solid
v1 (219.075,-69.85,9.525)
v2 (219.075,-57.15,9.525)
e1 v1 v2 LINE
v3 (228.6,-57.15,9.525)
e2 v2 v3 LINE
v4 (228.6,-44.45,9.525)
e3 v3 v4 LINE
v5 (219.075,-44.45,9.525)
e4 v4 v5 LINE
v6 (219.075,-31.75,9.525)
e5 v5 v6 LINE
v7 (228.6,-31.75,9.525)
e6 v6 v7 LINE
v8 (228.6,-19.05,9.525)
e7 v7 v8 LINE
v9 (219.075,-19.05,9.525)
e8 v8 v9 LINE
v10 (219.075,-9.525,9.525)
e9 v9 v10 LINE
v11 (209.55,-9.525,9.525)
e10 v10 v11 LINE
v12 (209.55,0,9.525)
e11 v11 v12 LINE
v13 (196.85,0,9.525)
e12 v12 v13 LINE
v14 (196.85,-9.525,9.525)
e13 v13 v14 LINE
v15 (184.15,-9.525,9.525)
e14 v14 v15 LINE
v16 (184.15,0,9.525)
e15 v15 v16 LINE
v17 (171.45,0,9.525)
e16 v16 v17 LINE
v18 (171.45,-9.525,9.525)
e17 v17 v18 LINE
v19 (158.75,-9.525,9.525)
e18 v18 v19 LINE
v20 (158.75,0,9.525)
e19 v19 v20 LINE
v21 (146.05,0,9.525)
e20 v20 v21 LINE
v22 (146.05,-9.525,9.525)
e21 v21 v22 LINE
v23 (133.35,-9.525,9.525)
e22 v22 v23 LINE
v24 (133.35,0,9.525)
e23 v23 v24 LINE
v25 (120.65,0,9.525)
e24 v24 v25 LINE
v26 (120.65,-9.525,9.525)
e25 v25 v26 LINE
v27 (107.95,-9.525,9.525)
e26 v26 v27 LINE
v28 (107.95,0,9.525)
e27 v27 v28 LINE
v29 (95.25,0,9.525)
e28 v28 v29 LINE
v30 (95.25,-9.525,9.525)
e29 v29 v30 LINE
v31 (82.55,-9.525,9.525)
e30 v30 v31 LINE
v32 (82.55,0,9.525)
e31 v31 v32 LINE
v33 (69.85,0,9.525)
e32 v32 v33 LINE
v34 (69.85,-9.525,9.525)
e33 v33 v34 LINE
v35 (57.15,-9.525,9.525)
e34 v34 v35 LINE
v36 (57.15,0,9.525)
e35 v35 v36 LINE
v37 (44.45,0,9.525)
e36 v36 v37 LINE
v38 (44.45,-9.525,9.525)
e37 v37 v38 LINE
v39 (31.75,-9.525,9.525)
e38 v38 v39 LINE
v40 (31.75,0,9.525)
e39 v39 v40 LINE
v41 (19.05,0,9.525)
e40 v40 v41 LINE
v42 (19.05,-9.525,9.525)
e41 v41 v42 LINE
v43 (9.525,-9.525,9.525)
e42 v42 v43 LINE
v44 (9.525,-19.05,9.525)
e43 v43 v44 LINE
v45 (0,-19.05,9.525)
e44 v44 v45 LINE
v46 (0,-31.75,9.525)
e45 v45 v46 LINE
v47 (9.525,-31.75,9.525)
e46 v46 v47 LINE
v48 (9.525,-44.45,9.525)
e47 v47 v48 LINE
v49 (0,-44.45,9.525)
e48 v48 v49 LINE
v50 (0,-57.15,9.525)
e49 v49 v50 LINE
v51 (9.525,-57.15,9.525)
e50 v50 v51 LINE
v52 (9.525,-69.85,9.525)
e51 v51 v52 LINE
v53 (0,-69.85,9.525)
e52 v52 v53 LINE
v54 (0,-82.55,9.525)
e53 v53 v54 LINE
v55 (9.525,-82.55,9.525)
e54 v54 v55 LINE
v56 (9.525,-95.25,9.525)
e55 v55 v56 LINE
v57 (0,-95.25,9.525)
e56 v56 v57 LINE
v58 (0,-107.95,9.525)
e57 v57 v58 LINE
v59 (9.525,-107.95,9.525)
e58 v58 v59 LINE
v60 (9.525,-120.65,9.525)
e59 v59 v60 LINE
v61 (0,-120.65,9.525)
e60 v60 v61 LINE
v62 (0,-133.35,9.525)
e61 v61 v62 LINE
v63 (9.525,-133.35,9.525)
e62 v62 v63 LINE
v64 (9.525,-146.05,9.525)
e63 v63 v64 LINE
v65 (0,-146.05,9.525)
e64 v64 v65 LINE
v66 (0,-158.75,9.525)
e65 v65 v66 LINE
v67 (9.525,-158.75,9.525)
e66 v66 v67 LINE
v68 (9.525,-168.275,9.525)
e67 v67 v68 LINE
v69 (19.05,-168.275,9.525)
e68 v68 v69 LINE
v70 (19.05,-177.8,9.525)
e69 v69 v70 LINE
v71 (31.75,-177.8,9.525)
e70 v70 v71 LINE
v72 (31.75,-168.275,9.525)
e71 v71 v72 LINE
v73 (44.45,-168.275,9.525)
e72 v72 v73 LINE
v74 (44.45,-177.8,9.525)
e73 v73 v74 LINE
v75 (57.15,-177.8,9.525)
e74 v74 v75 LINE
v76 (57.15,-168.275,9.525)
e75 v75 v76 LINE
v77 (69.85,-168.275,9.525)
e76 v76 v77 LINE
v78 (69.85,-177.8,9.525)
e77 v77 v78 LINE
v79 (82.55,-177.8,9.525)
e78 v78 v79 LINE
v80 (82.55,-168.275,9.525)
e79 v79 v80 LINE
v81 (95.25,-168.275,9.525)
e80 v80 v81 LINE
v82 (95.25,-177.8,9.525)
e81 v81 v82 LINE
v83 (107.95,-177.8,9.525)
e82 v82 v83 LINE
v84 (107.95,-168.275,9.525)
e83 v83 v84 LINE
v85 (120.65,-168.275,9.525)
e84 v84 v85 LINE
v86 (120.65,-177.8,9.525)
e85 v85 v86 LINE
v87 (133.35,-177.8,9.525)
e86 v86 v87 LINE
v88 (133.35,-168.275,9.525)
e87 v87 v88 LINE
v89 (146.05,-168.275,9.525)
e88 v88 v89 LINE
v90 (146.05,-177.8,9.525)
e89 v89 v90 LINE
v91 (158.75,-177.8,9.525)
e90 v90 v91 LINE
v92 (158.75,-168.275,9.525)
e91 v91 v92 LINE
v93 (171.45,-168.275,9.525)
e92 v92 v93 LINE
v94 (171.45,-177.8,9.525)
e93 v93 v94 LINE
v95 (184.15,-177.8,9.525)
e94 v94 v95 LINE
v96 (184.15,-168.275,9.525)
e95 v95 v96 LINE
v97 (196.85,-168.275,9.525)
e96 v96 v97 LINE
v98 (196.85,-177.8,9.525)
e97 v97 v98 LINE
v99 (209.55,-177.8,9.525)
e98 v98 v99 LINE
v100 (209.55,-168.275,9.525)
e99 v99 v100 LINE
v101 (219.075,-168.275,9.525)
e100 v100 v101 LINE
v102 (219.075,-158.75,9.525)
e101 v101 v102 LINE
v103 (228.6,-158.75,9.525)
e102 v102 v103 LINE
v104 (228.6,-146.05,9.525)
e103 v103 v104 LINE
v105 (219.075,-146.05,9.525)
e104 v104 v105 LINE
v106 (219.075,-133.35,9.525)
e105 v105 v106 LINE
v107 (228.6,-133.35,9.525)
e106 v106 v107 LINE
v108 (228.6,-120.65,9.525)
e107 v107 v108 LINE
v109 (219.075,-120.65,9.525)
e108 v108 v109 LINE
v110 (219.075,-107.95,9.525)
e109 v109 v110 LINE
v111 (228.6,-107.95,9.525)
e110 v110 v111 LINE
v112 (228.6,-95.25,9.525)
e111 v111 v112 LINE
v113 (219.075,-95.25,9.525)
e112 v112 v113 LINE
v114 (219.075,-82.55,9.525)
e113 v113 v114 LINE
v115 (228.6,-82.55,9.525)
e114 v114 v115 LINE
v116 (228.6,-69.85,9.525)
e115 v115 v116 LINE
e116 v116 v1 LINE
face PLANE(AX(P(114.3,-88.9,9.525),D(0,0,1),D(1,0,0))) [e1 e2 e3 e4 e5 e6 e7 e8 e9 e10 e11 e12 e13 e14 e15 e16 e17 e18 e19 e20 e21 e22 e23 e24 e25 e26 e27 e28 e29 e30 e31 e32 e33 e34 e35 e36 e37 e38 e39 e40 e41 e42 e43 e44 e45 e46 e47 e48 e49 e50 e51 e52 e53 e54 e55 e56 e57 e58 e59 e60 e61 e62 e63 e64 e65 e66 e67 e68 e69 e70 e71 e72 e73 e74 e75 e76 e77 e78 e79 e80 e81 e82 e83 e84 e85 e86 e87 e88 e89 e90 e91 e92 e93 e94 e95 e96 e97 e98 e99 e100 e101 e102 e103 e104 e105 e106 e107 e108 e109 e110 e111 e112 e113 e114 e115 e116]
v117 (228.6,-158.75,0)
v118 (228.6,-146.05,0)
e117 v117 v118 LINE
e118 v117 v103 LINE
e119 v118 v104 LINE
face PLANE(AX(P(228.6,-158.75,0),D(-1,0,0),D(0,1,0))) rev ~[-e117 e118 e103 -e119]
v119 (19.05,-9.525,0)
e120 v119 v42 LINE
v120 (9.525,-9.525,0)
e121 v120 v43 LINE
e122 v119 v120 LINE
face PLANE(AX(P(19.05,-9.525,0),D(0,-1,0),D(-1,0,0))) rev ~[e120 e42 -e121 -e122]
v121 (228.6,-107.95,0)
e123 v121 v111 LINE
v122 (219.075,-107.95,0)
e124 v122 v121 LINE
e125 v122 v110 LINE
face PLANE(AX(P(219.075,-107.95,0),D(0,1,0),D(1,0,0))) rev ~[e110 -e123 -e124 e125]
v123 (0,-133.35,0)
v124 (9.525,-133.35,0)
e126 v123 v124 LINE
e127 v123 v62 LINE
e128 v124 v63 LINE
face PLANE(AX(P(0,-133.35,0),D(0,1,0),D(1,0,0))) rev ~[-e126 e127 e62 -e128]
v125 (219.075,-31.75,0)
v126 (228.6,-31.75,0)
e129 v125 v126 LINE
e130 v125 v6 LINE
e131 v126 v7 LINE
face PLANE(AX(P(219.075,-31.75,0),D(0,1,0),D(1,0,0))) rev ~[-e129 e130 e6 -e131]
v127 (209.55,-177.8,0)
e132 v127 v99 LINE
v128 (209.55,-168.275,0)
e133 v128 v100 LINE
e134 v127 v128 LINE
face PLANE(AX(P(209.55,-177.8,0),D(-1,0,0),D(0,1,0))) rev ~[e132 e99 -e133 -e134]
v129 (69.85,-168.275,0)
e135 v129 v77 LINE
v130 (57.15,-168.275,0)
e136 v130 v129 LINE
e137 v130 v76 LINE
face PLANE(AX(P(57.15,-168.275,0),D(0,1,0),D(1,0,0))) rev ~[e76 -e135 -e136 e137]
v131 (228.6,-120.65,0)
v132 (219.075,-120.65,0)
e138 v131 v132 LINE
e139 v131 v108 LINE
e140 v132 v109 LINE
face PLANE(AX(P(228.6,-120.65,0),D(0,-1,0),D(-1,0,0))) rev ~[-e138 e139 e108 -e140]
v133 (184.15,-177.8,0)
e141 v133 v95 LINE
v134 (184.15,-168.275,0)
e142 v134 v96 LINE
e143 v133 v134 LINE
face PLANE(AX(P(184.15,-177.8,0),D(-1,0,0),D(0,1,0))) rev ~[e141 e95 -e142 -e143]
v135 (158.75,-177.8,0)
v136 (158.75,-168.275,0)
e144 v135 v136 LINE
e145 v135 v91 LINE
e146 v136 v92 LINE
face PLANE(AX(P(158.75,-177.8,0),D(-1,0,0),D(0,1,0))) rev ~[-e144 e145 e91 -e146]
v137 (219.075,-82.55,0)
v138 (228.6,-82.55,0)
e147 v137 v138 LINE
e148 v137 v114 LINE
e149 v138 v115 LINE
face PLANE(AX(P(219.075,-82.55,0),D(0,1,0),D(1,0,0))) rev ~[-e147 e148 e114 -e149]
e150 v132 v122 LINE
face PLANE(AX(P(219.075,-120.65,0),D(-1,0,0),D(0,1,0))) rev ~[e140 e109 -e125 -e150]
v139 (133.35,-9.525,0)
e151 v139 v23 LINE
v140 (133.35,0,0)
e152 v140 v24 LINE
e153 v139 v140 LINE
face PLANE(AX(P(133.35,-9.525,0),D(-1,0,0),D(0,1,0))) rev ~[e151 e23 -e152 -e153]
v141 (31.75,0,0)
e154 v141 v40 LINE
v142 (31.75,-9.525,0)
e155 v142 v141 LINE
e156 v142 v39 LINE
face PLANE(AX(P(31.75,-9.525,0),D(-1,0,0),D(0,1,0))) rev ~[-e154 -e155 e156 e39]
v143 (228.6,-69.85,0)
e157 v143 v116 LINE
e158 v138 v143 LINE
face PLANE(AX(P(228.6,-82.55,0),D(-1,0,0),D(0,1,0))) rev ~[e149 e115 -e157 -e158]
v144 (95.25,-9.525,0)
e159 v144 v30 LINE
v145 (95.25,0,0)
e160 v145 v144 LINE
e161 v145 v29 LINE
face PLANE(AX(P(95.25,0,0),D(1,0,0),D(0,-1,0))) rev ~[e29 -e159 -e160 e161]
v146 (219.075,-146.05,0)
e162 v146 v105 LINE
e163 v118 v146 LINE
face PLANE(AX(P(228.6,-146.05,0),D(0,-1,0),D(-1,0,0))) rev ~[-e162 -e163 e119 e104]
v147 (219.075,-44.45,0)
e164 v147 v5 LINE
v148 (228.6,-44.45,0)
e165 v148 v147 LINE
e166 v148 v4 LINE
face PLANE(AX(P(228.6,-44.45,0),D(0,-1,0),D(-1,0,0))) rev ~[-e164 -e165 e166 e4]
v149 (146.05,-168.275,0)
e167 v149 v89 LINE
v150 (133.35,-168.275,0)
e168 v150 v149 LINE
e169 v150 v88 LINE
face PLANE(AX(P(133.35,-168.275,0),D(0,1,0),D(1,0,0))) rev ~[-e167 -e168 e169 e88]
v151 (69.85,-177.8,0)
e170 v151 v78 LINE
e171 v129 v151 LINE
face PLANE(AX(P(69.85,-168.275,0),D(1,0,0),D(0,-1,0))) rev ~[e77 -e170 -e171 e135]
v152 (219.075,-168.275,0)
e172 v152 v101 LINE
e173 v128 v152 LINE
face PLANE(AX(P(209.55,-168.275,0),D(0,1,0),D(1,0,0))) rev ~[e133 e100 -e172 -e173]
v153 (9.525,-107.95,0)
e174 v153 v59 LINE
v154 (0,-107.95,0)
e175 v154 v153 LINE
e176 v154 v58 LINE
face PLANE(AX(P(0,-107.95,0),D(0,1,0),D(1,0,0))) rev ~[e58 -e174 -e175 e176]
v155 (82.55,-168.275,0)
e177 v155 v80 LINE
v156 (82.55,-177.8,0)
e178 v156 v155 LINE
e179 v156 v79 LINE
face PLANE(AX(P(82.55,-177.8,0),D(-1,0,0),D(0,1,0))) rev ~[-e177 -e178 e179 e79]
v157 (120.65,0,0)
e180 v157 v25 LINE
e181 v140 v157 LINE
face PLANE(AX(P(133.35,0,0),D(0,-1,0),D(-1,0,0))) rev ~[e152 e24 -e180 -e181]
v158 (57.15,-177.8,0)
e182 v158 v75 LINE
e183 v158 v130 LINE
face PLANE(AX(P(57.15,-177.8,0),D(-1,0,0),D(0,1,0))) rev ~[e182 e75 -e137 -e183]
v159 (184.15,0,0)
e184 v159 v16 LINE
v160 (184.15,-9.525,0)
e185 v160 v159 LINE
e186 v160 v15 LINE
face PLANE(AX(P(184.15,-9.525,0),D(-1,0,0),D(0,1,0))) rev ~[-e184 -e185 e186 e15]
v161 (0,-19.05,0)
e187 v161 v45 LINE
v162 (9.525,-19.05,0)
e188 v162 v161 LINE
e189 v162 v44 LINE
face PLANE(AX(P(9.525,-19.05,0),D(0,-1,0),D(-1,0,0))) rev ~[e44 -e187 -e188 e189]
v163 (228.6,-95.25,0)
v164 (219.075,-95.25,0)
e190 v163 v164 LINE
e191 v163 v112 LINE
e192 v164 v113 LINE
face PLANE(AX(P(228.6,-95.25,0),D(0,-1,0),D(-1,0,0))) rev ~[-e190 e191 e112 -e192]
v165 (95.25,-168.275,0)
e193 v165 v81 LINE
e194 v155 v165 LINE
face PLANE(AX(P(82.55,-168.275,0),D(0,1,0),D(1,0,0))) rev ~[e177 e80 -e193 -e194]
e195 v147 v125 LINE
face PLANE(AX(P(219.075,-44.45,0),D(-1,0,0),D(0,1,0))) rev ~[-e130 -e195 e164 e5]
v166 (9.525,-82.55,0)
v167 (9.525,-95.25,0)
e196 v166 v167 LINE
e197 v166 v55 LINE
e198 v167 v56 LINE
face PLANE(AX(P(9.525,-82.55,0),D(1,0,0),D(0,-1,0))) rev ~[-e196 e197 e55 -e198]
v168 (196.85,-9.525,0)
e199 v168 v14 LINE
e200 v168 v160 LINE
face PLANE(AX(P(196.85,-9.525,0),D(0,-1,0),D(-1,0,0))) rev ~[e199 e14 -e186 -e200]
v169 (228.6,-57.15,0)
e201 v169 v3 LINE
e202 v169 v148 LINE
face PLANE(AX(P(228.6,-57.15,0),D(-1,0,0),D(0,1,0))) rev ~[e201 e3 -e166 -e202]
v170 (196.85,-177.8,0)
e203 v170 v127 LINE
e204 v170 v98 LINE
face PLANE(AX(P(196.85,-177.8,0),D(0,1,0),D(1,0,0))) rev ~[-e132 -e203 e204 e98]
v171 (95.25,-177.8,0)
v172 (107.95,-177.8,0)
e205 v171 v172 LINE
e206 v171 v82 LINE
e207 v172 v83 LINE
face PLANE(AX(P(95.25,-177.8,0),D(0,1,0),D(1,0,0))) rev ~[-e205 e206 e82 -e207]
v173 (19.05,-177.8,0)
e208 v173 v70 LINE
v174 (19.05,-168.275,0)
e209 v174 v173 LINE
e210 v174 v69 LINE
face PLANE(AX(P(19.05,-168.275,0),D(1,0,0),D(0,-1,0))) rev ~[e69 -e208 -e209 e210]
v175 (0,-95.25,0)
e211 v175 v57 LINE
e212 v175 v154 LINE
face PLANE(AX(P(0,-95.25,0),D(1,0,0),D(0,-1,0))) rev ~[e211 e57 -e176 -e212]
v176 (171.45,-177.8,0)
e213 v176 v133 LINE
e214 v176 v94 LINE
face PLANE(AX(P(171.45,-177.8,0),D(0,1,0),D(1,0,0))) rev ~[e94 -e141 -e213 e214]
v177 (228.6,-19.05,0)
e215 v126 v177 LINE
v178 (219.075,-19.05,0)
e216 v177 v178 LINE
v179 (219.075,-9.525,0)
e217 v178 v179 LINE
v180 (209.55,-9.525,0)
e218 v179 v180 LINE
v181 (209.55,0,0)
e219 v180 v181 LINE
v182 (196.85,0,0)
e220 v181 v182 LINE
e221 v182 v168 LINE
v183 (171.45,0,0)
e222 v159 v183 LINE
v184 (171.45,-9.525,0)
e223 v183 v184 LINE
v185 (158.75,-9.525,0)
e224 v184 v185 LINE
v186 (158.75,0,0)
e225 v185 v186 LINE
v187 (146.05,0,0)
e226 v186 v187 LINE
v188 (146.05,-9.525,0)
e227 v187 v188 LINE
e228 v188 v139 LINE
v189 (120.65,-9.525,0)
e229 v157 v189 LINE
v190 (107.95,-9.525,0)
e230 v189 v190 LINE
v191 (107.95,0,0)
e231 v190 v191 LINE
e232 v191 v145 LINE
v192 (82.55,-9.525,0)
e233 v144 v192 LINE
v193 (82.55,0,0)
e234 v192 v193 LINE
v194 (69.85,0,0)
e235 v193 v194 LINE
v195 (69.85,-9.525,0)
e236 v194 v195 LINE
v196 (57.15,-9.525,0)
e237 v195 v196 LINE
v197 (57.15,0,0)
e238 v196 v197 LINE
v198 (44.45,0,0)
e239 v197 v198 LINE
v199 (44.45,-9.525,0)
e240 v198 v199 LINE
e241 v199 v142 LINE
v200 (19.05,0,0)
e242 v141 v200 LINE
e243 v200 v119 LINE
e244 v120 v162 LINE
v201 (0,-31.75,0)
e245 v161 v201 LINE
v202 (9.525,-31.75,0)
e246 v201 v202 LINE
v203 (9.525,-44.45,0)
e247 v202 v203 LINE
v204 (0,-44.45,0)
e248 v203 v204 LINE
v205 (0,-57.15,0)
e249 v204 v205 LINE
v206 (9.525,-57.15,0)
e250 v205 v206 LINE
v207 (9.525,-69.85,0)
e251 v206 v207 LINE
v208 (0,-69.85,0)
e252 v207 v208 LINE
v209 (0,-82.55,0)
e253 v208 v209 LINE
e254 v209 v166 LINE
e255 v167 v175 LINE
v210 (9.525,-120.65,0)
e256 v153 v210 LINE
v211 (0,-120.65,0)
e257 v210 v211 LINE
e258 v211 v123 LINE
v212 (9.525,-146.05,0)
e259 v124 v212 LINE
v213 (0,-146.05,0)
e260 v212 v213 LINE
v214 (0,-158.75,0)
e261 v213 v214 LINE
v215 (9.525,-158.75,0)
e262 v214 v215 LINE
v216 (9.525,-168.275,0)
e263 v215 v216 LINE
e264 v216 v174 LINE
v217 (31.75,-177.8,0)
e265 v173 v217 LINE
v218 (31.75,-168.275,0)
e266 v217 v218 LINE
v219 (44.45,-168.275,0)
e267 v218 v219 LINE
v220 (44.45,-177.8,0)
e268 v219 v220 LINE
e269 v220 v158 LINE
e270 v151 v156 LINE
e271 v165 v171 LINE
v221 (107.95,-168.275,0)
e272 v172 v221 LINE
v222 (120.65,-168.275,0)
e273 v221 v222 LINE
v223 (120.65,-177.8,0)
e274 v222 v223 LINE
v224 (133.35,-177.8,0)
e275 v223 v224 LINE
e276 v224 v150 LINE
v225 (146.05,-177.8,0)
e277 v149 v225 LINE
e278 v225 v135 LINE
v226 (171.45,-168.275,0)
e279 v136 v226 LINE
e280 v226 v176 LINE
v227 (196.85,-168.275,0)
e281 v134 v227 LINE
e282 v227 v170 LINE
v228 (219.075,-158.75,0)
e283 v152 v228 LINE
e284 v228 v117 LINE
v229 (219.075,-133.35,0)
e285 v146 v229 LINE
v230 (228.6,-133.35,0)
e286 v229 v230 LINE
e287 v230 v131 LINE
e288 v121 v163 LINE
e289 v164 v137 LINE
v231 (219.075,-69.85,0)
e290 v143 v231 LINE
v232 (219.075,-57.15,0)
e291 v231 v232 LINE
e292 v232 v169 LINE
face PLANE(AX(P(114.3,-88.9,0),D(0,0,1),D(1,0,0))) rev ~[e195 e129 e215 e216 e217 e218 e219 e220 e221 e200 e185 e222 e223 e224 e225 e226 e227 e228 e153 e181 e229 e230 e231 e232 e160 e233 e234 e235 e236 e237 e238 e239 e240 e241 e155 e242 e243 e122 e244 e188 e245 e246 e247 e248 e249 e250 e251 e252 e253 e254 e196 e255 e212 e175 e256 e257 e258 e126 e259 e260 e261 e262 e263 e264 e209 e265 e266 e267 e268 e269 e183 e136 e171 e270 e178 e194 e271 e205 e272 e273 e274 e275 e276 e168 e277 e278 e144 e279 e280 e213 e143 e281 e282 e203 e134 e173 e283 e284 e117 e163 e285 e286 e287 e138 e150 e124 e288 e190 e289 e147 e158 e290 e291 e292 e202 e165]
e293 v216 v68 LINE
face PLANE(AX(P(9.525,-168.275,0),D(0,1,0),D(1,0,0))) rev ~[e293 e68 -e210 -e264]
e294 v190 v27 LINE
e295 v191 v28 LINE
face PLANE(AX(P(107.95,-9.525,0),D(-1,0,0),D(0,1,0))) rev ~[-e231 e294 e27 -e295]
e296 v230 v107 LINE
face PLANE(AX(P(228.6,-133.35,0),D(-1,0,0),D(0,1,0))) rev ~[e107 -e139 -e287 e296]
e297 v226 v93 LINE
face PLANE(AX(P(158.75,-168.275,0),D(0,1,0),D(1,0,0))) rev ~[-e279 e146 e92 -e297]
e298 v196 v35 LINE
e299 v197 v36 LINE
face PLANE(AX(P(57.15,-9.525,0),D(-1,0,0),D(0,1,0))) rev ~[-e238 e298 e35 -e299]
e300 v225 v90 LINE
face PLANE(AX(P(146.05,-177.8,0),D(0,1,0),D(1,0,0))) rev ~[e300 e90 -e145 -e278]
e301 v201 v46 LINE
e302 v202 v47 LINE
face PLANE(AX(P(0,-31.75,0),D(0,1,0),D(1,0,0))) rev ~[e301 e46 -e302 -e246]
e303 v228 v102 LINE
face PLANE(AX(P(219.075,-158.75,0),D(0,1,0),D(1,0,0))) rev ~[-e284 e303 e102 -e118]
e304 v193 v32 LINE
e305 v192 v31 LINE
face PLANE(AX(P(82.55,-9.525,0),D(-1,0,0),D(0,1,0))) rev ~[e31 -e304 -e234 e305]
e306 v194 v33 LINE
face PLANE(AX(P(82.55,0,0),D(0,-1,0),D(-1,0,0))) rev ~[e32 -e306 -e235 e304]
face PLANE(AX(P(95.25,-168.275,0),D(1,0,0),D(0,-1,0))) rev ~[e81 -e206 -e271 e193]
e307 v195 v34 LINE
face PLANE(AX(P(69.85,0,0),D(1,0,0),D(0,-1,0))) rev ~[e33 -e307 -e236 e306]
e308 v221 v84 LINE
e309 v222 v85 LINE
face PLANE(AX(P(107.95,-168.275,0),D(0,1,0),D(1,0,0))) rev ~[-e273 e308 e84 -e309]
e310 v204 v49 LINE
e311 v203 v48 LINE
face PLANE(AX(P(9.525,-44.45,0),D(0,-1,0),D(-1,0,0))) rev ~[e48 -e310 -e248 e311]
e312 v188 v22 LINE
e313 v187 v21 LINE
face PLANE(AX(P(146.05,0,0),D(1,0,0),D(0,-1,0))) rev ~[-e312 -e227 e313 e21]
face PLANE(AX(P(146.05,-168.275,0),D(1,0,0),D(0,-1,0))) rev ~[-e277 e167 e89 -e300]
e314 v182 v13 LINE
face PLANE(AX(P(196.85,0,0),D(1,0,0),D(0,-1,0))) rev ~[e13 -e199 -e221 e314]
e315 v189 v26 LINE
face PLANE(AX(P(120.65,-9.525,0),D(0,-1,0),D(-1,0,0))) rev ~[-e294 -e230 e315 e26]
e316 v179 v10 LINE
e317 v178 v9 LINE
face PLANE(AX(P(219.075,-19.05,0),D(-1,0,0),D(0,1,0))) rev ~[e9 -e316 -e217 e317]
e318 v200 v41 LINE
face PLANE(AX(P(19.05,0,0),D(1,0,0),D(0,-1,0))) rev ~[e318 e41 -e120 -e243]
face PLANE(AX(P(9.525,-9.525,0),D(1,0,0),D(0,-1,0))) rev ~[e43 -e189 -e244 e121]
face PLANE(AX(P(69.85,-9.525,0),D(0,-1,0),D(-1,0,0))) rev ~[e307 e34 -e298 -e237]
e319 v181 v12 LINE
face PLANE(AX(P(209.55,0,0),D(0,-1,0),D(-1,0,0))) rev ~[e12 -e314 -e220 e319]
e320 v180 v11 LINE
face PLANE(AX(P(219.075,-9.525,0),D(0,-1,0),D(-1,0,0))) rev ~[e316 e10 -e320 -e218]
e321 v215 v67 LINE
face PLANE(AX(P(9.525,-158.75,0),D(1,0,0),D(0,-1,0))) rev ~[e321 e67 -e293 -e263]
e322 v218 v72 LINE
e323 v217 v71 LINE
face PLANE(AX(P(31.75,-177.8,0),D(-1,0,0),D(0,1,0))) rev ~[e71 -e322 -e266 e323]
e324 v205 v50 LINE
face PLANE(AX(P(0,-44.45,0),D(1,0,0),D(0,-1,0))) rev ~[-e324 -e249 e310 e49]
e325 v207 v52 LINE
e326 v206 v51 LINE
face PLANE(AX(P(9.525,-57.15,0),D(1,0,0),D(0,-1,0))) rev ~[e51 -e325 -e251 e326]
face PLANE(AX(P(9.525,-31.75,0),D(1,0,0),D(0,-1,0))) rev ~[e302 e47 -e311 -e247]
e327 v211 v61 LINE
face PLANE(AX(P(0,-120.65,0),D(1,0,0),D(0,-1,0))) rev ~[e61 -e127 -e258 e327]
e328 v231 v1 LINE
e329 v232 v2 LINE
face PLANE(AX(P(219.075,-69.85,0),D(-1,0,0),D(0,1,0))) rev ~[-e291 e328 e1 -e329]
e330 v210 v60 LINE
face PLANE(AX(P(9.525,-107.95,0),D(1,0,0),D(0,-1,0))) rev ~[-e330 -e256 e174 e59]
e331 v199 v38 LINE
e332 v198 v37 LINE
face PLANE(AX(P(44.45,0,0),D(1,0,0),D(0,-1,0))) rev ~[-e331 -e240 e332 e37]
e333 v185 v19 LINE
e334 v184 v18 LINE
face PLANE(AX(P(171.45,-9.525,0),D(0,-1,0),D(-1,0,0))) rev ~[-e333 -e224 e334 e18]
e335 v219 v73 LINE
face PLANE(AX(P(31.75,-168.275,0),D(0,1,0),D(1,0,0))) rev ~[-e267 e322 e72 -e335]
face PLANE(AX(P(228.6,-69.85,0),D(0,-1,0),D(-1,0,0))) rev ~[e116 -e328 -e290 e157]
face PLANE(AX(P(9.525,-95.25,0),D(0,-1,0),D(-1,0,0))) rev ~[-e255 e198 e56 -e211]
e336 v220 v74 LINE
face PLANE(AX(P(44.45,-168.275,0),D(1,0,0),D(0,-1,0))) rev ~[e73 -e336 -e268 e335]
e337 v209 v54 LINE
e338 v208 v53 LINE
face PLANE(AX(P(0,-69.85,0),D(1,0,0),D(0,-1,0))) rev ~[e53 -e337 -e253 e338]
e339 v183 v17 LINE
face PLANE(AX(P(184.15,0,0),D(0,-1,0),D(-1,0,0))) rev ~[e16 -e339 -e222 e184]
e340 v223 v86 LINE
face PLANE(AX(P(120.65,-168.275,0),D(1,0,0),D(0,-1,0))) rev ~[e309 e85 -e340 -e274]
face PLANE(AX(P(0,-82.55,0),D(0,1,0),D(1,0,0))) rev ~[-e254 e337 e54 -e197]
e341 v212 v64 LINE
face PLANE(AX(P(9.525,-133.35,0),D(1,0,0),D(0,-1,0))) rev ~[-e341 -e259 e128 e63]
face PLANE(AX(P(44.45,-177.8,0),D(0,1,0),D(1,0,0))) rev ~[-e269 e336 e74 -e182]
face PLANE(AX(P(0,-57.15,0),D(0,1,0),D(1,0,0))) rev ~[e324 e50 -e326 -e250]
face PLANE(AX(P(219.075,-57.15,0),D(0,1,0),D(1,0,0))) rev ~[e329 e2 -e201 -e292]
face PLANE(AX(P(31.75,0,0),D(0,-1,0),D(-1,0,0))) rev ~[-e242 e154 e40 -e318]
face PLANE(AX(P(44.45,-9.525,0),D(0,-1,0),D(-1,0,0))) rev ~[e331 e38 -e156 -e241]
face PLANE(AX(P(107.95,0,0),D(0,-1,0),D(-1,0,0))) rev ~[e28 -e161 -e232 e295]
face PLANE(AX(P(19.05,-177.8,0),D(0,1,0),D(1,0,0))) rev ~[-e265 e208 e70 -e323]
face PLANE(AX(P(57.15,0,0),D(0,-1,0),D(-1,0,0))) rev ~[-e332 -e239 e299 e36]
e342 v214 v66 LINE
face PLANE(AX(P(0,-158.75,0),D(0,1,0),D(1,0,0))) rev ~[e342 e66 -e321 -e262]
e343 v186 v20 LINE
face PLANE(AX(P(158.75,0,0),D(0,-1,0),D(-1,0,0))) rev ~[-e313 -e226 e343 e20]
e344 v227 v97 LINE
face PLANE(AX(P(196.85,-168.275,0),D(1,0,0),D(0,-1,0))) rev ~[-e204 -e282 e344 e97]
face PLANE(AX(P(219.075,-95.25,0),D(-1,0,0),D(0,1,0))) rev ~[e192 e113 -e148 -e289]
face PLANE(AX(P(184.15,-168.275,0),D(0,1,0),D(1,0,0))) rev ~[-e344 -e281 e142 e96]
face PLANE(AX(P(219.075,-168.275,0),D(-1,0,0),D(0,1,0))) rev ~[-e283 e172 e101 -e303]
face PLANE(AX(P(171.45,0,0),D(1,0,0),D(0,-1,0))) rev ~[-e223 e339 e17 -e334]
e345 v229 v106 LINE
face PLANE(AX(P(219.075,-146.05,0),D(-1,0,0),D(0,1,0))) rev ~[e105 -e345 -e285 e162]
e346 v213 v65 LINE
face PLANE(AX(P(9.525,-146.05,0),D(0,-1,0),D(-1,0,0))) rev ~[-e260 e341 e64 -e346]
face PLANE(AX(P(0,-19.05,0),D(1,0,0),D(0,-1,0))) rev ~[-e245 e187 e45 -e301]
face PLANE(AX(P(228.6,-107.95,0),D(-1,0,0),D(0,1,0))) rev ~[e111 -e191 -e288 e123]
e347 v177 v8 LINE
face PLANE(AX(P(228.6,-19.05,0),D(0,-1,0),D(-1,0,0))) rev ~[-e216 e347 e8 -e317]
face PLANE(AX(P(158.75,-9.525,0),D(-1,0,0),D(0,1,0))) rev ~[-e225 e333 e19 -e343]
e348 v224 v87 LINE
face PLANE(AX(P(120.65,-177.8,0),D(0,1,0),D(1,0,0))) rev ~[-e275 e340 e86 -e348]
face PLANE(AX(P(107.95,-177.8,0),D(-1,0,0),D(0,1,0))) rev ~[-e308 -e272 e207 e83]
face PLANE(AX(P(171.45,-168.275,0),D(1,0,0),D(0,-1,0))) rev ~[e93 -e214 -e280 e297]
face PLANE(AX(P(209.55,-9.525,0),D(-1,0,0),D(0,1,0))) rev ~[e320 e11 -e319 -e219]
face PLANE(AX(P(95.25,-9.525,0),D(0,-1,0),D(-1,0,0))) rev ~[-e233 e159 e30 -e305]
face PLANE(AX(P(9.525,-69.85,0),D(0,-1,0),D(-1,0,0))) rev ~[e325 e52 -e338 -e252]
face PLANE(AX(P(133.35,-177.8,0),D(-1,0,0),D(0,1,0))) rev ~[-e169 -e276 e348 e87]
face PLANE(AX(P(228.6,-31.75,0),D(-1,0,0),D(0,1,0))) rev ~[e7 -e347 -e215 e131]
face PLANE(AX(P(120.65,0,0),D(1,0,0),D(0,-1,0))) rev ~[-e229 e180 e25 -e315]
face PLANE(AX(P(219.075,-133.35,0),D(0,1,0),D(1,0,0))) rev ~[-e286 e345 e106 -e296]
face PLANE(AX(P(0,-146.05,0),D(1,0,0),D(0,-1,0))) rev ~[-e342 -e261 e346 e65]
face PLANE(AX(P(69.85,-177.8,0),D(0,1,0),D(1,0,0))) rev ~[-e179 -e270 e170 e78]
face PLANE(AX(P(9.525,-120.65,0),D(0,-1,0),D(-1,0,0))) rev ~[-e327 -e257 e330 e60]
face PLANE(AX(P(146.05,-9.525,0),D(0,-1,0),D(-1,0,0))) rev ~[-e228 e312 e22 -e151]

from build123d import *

# Parameters (mm, degrees)
F1_DEPTH = 9.525


with BuildPart() as f1:
    # F0 (on Top) → F1 (new body)
    with BuildSketch(Plane.XY):
        Polygon((31.75, 0), (19.05, 0), (19.05, -9.525), (9.525, -9.525), (9.525, -19.05), (0, -19.05), (0, -31.75), (9.525, -31.75), (9.525, -44.45), (0, -44.45), (0, -57.15), (9.525, -57.15), (9.525, -69.85), (0, -69.85), (0, -82.55), (9.525, -82.55), (9.525, -95.25), (0, -95.25), (0, -107.95), (9.525, -107.95), (9.525, -120.65), (0, -120.65), (0, -133.35), (9.525, -133.35), (9.525, -146.05), (0, -146.05), (0, -158.75), (9.525, -158.75), (9.525, -168.275), (19.05, -168.275), (19.05, -177.8), (31.75, -177.8), (31.75, -168.275), (44.45, -168.275), (44.45, -177.8), (57.15, -177.8), (57.15, -168.275), (69.85, -168.275), (69.85, -177.8), (82.55, -177.8), (82.55, -168.275), (95.25, -168.275), (95.25, -177.8), (107.95, -177.8), (107.95, -168.275), (120.65, -168.275), (120.65, -177.8), (133.35, -177.8), (133.35, -168.275), (146.05, -168.275), (146.05, -177.8), (158.75, -177.8), (158.75, -168.275), (171.45, -168.275), (171.45, -177.8), (184.15, -177.8), (184.15, -168.275), (196.85, -168.275), (196.85, -177.8), (209.55, -177.8), (209.55, -168.275), (219.075, -168.275), (219.075, -158.75), (228.6, -158.75), (228.6, -146.05), (219.075, -146.05), (219.075, -133.35), (228.6, -133.35), (228.6, -120.65), (219.075, -120.65), (219.075, -107.95), (228.6, -107.95), (228.6, -95.25), (219.075, -95.25), (219.075, -82.55), (228.6, -82.55), (228.6, -69.85), (219.075, -69.85), (219.075, -57.15), (228.6, -57.15), (228.6, -44.45), (219.075, -44.45), (219.075, -31.75), (228.6, -31.75), (228.6, -19.05), (219.075, -19.05), (219.075, -9.525), (209.55, -9.525), (209.55, 0), (196.85, 0), (196.85, -9.525), (184.15, -9.525), (184.15, 0), (171.45, 0), (171.45, -9.525), (158.75, -9.525), (158.75, 0), (146.05, 0), (146.05, -9.525), (133.35, -9.525), (133.35, 0), (120.65, 0), (120.65, -9.525), (107.95, -9.525), (107.95, 0), (95.25, 0), (95.25, -9.525), (82.55, -9.525), (82.55, 0), (69.85, 0), (69.85, -9.525), (57.15, -9.525), (57.15, 0), (44.45, 0), (44.45, -9.525), (31.75, -9.525), align=None)
    extrude(amount=F1_DEPTH)


solid = f1.part
